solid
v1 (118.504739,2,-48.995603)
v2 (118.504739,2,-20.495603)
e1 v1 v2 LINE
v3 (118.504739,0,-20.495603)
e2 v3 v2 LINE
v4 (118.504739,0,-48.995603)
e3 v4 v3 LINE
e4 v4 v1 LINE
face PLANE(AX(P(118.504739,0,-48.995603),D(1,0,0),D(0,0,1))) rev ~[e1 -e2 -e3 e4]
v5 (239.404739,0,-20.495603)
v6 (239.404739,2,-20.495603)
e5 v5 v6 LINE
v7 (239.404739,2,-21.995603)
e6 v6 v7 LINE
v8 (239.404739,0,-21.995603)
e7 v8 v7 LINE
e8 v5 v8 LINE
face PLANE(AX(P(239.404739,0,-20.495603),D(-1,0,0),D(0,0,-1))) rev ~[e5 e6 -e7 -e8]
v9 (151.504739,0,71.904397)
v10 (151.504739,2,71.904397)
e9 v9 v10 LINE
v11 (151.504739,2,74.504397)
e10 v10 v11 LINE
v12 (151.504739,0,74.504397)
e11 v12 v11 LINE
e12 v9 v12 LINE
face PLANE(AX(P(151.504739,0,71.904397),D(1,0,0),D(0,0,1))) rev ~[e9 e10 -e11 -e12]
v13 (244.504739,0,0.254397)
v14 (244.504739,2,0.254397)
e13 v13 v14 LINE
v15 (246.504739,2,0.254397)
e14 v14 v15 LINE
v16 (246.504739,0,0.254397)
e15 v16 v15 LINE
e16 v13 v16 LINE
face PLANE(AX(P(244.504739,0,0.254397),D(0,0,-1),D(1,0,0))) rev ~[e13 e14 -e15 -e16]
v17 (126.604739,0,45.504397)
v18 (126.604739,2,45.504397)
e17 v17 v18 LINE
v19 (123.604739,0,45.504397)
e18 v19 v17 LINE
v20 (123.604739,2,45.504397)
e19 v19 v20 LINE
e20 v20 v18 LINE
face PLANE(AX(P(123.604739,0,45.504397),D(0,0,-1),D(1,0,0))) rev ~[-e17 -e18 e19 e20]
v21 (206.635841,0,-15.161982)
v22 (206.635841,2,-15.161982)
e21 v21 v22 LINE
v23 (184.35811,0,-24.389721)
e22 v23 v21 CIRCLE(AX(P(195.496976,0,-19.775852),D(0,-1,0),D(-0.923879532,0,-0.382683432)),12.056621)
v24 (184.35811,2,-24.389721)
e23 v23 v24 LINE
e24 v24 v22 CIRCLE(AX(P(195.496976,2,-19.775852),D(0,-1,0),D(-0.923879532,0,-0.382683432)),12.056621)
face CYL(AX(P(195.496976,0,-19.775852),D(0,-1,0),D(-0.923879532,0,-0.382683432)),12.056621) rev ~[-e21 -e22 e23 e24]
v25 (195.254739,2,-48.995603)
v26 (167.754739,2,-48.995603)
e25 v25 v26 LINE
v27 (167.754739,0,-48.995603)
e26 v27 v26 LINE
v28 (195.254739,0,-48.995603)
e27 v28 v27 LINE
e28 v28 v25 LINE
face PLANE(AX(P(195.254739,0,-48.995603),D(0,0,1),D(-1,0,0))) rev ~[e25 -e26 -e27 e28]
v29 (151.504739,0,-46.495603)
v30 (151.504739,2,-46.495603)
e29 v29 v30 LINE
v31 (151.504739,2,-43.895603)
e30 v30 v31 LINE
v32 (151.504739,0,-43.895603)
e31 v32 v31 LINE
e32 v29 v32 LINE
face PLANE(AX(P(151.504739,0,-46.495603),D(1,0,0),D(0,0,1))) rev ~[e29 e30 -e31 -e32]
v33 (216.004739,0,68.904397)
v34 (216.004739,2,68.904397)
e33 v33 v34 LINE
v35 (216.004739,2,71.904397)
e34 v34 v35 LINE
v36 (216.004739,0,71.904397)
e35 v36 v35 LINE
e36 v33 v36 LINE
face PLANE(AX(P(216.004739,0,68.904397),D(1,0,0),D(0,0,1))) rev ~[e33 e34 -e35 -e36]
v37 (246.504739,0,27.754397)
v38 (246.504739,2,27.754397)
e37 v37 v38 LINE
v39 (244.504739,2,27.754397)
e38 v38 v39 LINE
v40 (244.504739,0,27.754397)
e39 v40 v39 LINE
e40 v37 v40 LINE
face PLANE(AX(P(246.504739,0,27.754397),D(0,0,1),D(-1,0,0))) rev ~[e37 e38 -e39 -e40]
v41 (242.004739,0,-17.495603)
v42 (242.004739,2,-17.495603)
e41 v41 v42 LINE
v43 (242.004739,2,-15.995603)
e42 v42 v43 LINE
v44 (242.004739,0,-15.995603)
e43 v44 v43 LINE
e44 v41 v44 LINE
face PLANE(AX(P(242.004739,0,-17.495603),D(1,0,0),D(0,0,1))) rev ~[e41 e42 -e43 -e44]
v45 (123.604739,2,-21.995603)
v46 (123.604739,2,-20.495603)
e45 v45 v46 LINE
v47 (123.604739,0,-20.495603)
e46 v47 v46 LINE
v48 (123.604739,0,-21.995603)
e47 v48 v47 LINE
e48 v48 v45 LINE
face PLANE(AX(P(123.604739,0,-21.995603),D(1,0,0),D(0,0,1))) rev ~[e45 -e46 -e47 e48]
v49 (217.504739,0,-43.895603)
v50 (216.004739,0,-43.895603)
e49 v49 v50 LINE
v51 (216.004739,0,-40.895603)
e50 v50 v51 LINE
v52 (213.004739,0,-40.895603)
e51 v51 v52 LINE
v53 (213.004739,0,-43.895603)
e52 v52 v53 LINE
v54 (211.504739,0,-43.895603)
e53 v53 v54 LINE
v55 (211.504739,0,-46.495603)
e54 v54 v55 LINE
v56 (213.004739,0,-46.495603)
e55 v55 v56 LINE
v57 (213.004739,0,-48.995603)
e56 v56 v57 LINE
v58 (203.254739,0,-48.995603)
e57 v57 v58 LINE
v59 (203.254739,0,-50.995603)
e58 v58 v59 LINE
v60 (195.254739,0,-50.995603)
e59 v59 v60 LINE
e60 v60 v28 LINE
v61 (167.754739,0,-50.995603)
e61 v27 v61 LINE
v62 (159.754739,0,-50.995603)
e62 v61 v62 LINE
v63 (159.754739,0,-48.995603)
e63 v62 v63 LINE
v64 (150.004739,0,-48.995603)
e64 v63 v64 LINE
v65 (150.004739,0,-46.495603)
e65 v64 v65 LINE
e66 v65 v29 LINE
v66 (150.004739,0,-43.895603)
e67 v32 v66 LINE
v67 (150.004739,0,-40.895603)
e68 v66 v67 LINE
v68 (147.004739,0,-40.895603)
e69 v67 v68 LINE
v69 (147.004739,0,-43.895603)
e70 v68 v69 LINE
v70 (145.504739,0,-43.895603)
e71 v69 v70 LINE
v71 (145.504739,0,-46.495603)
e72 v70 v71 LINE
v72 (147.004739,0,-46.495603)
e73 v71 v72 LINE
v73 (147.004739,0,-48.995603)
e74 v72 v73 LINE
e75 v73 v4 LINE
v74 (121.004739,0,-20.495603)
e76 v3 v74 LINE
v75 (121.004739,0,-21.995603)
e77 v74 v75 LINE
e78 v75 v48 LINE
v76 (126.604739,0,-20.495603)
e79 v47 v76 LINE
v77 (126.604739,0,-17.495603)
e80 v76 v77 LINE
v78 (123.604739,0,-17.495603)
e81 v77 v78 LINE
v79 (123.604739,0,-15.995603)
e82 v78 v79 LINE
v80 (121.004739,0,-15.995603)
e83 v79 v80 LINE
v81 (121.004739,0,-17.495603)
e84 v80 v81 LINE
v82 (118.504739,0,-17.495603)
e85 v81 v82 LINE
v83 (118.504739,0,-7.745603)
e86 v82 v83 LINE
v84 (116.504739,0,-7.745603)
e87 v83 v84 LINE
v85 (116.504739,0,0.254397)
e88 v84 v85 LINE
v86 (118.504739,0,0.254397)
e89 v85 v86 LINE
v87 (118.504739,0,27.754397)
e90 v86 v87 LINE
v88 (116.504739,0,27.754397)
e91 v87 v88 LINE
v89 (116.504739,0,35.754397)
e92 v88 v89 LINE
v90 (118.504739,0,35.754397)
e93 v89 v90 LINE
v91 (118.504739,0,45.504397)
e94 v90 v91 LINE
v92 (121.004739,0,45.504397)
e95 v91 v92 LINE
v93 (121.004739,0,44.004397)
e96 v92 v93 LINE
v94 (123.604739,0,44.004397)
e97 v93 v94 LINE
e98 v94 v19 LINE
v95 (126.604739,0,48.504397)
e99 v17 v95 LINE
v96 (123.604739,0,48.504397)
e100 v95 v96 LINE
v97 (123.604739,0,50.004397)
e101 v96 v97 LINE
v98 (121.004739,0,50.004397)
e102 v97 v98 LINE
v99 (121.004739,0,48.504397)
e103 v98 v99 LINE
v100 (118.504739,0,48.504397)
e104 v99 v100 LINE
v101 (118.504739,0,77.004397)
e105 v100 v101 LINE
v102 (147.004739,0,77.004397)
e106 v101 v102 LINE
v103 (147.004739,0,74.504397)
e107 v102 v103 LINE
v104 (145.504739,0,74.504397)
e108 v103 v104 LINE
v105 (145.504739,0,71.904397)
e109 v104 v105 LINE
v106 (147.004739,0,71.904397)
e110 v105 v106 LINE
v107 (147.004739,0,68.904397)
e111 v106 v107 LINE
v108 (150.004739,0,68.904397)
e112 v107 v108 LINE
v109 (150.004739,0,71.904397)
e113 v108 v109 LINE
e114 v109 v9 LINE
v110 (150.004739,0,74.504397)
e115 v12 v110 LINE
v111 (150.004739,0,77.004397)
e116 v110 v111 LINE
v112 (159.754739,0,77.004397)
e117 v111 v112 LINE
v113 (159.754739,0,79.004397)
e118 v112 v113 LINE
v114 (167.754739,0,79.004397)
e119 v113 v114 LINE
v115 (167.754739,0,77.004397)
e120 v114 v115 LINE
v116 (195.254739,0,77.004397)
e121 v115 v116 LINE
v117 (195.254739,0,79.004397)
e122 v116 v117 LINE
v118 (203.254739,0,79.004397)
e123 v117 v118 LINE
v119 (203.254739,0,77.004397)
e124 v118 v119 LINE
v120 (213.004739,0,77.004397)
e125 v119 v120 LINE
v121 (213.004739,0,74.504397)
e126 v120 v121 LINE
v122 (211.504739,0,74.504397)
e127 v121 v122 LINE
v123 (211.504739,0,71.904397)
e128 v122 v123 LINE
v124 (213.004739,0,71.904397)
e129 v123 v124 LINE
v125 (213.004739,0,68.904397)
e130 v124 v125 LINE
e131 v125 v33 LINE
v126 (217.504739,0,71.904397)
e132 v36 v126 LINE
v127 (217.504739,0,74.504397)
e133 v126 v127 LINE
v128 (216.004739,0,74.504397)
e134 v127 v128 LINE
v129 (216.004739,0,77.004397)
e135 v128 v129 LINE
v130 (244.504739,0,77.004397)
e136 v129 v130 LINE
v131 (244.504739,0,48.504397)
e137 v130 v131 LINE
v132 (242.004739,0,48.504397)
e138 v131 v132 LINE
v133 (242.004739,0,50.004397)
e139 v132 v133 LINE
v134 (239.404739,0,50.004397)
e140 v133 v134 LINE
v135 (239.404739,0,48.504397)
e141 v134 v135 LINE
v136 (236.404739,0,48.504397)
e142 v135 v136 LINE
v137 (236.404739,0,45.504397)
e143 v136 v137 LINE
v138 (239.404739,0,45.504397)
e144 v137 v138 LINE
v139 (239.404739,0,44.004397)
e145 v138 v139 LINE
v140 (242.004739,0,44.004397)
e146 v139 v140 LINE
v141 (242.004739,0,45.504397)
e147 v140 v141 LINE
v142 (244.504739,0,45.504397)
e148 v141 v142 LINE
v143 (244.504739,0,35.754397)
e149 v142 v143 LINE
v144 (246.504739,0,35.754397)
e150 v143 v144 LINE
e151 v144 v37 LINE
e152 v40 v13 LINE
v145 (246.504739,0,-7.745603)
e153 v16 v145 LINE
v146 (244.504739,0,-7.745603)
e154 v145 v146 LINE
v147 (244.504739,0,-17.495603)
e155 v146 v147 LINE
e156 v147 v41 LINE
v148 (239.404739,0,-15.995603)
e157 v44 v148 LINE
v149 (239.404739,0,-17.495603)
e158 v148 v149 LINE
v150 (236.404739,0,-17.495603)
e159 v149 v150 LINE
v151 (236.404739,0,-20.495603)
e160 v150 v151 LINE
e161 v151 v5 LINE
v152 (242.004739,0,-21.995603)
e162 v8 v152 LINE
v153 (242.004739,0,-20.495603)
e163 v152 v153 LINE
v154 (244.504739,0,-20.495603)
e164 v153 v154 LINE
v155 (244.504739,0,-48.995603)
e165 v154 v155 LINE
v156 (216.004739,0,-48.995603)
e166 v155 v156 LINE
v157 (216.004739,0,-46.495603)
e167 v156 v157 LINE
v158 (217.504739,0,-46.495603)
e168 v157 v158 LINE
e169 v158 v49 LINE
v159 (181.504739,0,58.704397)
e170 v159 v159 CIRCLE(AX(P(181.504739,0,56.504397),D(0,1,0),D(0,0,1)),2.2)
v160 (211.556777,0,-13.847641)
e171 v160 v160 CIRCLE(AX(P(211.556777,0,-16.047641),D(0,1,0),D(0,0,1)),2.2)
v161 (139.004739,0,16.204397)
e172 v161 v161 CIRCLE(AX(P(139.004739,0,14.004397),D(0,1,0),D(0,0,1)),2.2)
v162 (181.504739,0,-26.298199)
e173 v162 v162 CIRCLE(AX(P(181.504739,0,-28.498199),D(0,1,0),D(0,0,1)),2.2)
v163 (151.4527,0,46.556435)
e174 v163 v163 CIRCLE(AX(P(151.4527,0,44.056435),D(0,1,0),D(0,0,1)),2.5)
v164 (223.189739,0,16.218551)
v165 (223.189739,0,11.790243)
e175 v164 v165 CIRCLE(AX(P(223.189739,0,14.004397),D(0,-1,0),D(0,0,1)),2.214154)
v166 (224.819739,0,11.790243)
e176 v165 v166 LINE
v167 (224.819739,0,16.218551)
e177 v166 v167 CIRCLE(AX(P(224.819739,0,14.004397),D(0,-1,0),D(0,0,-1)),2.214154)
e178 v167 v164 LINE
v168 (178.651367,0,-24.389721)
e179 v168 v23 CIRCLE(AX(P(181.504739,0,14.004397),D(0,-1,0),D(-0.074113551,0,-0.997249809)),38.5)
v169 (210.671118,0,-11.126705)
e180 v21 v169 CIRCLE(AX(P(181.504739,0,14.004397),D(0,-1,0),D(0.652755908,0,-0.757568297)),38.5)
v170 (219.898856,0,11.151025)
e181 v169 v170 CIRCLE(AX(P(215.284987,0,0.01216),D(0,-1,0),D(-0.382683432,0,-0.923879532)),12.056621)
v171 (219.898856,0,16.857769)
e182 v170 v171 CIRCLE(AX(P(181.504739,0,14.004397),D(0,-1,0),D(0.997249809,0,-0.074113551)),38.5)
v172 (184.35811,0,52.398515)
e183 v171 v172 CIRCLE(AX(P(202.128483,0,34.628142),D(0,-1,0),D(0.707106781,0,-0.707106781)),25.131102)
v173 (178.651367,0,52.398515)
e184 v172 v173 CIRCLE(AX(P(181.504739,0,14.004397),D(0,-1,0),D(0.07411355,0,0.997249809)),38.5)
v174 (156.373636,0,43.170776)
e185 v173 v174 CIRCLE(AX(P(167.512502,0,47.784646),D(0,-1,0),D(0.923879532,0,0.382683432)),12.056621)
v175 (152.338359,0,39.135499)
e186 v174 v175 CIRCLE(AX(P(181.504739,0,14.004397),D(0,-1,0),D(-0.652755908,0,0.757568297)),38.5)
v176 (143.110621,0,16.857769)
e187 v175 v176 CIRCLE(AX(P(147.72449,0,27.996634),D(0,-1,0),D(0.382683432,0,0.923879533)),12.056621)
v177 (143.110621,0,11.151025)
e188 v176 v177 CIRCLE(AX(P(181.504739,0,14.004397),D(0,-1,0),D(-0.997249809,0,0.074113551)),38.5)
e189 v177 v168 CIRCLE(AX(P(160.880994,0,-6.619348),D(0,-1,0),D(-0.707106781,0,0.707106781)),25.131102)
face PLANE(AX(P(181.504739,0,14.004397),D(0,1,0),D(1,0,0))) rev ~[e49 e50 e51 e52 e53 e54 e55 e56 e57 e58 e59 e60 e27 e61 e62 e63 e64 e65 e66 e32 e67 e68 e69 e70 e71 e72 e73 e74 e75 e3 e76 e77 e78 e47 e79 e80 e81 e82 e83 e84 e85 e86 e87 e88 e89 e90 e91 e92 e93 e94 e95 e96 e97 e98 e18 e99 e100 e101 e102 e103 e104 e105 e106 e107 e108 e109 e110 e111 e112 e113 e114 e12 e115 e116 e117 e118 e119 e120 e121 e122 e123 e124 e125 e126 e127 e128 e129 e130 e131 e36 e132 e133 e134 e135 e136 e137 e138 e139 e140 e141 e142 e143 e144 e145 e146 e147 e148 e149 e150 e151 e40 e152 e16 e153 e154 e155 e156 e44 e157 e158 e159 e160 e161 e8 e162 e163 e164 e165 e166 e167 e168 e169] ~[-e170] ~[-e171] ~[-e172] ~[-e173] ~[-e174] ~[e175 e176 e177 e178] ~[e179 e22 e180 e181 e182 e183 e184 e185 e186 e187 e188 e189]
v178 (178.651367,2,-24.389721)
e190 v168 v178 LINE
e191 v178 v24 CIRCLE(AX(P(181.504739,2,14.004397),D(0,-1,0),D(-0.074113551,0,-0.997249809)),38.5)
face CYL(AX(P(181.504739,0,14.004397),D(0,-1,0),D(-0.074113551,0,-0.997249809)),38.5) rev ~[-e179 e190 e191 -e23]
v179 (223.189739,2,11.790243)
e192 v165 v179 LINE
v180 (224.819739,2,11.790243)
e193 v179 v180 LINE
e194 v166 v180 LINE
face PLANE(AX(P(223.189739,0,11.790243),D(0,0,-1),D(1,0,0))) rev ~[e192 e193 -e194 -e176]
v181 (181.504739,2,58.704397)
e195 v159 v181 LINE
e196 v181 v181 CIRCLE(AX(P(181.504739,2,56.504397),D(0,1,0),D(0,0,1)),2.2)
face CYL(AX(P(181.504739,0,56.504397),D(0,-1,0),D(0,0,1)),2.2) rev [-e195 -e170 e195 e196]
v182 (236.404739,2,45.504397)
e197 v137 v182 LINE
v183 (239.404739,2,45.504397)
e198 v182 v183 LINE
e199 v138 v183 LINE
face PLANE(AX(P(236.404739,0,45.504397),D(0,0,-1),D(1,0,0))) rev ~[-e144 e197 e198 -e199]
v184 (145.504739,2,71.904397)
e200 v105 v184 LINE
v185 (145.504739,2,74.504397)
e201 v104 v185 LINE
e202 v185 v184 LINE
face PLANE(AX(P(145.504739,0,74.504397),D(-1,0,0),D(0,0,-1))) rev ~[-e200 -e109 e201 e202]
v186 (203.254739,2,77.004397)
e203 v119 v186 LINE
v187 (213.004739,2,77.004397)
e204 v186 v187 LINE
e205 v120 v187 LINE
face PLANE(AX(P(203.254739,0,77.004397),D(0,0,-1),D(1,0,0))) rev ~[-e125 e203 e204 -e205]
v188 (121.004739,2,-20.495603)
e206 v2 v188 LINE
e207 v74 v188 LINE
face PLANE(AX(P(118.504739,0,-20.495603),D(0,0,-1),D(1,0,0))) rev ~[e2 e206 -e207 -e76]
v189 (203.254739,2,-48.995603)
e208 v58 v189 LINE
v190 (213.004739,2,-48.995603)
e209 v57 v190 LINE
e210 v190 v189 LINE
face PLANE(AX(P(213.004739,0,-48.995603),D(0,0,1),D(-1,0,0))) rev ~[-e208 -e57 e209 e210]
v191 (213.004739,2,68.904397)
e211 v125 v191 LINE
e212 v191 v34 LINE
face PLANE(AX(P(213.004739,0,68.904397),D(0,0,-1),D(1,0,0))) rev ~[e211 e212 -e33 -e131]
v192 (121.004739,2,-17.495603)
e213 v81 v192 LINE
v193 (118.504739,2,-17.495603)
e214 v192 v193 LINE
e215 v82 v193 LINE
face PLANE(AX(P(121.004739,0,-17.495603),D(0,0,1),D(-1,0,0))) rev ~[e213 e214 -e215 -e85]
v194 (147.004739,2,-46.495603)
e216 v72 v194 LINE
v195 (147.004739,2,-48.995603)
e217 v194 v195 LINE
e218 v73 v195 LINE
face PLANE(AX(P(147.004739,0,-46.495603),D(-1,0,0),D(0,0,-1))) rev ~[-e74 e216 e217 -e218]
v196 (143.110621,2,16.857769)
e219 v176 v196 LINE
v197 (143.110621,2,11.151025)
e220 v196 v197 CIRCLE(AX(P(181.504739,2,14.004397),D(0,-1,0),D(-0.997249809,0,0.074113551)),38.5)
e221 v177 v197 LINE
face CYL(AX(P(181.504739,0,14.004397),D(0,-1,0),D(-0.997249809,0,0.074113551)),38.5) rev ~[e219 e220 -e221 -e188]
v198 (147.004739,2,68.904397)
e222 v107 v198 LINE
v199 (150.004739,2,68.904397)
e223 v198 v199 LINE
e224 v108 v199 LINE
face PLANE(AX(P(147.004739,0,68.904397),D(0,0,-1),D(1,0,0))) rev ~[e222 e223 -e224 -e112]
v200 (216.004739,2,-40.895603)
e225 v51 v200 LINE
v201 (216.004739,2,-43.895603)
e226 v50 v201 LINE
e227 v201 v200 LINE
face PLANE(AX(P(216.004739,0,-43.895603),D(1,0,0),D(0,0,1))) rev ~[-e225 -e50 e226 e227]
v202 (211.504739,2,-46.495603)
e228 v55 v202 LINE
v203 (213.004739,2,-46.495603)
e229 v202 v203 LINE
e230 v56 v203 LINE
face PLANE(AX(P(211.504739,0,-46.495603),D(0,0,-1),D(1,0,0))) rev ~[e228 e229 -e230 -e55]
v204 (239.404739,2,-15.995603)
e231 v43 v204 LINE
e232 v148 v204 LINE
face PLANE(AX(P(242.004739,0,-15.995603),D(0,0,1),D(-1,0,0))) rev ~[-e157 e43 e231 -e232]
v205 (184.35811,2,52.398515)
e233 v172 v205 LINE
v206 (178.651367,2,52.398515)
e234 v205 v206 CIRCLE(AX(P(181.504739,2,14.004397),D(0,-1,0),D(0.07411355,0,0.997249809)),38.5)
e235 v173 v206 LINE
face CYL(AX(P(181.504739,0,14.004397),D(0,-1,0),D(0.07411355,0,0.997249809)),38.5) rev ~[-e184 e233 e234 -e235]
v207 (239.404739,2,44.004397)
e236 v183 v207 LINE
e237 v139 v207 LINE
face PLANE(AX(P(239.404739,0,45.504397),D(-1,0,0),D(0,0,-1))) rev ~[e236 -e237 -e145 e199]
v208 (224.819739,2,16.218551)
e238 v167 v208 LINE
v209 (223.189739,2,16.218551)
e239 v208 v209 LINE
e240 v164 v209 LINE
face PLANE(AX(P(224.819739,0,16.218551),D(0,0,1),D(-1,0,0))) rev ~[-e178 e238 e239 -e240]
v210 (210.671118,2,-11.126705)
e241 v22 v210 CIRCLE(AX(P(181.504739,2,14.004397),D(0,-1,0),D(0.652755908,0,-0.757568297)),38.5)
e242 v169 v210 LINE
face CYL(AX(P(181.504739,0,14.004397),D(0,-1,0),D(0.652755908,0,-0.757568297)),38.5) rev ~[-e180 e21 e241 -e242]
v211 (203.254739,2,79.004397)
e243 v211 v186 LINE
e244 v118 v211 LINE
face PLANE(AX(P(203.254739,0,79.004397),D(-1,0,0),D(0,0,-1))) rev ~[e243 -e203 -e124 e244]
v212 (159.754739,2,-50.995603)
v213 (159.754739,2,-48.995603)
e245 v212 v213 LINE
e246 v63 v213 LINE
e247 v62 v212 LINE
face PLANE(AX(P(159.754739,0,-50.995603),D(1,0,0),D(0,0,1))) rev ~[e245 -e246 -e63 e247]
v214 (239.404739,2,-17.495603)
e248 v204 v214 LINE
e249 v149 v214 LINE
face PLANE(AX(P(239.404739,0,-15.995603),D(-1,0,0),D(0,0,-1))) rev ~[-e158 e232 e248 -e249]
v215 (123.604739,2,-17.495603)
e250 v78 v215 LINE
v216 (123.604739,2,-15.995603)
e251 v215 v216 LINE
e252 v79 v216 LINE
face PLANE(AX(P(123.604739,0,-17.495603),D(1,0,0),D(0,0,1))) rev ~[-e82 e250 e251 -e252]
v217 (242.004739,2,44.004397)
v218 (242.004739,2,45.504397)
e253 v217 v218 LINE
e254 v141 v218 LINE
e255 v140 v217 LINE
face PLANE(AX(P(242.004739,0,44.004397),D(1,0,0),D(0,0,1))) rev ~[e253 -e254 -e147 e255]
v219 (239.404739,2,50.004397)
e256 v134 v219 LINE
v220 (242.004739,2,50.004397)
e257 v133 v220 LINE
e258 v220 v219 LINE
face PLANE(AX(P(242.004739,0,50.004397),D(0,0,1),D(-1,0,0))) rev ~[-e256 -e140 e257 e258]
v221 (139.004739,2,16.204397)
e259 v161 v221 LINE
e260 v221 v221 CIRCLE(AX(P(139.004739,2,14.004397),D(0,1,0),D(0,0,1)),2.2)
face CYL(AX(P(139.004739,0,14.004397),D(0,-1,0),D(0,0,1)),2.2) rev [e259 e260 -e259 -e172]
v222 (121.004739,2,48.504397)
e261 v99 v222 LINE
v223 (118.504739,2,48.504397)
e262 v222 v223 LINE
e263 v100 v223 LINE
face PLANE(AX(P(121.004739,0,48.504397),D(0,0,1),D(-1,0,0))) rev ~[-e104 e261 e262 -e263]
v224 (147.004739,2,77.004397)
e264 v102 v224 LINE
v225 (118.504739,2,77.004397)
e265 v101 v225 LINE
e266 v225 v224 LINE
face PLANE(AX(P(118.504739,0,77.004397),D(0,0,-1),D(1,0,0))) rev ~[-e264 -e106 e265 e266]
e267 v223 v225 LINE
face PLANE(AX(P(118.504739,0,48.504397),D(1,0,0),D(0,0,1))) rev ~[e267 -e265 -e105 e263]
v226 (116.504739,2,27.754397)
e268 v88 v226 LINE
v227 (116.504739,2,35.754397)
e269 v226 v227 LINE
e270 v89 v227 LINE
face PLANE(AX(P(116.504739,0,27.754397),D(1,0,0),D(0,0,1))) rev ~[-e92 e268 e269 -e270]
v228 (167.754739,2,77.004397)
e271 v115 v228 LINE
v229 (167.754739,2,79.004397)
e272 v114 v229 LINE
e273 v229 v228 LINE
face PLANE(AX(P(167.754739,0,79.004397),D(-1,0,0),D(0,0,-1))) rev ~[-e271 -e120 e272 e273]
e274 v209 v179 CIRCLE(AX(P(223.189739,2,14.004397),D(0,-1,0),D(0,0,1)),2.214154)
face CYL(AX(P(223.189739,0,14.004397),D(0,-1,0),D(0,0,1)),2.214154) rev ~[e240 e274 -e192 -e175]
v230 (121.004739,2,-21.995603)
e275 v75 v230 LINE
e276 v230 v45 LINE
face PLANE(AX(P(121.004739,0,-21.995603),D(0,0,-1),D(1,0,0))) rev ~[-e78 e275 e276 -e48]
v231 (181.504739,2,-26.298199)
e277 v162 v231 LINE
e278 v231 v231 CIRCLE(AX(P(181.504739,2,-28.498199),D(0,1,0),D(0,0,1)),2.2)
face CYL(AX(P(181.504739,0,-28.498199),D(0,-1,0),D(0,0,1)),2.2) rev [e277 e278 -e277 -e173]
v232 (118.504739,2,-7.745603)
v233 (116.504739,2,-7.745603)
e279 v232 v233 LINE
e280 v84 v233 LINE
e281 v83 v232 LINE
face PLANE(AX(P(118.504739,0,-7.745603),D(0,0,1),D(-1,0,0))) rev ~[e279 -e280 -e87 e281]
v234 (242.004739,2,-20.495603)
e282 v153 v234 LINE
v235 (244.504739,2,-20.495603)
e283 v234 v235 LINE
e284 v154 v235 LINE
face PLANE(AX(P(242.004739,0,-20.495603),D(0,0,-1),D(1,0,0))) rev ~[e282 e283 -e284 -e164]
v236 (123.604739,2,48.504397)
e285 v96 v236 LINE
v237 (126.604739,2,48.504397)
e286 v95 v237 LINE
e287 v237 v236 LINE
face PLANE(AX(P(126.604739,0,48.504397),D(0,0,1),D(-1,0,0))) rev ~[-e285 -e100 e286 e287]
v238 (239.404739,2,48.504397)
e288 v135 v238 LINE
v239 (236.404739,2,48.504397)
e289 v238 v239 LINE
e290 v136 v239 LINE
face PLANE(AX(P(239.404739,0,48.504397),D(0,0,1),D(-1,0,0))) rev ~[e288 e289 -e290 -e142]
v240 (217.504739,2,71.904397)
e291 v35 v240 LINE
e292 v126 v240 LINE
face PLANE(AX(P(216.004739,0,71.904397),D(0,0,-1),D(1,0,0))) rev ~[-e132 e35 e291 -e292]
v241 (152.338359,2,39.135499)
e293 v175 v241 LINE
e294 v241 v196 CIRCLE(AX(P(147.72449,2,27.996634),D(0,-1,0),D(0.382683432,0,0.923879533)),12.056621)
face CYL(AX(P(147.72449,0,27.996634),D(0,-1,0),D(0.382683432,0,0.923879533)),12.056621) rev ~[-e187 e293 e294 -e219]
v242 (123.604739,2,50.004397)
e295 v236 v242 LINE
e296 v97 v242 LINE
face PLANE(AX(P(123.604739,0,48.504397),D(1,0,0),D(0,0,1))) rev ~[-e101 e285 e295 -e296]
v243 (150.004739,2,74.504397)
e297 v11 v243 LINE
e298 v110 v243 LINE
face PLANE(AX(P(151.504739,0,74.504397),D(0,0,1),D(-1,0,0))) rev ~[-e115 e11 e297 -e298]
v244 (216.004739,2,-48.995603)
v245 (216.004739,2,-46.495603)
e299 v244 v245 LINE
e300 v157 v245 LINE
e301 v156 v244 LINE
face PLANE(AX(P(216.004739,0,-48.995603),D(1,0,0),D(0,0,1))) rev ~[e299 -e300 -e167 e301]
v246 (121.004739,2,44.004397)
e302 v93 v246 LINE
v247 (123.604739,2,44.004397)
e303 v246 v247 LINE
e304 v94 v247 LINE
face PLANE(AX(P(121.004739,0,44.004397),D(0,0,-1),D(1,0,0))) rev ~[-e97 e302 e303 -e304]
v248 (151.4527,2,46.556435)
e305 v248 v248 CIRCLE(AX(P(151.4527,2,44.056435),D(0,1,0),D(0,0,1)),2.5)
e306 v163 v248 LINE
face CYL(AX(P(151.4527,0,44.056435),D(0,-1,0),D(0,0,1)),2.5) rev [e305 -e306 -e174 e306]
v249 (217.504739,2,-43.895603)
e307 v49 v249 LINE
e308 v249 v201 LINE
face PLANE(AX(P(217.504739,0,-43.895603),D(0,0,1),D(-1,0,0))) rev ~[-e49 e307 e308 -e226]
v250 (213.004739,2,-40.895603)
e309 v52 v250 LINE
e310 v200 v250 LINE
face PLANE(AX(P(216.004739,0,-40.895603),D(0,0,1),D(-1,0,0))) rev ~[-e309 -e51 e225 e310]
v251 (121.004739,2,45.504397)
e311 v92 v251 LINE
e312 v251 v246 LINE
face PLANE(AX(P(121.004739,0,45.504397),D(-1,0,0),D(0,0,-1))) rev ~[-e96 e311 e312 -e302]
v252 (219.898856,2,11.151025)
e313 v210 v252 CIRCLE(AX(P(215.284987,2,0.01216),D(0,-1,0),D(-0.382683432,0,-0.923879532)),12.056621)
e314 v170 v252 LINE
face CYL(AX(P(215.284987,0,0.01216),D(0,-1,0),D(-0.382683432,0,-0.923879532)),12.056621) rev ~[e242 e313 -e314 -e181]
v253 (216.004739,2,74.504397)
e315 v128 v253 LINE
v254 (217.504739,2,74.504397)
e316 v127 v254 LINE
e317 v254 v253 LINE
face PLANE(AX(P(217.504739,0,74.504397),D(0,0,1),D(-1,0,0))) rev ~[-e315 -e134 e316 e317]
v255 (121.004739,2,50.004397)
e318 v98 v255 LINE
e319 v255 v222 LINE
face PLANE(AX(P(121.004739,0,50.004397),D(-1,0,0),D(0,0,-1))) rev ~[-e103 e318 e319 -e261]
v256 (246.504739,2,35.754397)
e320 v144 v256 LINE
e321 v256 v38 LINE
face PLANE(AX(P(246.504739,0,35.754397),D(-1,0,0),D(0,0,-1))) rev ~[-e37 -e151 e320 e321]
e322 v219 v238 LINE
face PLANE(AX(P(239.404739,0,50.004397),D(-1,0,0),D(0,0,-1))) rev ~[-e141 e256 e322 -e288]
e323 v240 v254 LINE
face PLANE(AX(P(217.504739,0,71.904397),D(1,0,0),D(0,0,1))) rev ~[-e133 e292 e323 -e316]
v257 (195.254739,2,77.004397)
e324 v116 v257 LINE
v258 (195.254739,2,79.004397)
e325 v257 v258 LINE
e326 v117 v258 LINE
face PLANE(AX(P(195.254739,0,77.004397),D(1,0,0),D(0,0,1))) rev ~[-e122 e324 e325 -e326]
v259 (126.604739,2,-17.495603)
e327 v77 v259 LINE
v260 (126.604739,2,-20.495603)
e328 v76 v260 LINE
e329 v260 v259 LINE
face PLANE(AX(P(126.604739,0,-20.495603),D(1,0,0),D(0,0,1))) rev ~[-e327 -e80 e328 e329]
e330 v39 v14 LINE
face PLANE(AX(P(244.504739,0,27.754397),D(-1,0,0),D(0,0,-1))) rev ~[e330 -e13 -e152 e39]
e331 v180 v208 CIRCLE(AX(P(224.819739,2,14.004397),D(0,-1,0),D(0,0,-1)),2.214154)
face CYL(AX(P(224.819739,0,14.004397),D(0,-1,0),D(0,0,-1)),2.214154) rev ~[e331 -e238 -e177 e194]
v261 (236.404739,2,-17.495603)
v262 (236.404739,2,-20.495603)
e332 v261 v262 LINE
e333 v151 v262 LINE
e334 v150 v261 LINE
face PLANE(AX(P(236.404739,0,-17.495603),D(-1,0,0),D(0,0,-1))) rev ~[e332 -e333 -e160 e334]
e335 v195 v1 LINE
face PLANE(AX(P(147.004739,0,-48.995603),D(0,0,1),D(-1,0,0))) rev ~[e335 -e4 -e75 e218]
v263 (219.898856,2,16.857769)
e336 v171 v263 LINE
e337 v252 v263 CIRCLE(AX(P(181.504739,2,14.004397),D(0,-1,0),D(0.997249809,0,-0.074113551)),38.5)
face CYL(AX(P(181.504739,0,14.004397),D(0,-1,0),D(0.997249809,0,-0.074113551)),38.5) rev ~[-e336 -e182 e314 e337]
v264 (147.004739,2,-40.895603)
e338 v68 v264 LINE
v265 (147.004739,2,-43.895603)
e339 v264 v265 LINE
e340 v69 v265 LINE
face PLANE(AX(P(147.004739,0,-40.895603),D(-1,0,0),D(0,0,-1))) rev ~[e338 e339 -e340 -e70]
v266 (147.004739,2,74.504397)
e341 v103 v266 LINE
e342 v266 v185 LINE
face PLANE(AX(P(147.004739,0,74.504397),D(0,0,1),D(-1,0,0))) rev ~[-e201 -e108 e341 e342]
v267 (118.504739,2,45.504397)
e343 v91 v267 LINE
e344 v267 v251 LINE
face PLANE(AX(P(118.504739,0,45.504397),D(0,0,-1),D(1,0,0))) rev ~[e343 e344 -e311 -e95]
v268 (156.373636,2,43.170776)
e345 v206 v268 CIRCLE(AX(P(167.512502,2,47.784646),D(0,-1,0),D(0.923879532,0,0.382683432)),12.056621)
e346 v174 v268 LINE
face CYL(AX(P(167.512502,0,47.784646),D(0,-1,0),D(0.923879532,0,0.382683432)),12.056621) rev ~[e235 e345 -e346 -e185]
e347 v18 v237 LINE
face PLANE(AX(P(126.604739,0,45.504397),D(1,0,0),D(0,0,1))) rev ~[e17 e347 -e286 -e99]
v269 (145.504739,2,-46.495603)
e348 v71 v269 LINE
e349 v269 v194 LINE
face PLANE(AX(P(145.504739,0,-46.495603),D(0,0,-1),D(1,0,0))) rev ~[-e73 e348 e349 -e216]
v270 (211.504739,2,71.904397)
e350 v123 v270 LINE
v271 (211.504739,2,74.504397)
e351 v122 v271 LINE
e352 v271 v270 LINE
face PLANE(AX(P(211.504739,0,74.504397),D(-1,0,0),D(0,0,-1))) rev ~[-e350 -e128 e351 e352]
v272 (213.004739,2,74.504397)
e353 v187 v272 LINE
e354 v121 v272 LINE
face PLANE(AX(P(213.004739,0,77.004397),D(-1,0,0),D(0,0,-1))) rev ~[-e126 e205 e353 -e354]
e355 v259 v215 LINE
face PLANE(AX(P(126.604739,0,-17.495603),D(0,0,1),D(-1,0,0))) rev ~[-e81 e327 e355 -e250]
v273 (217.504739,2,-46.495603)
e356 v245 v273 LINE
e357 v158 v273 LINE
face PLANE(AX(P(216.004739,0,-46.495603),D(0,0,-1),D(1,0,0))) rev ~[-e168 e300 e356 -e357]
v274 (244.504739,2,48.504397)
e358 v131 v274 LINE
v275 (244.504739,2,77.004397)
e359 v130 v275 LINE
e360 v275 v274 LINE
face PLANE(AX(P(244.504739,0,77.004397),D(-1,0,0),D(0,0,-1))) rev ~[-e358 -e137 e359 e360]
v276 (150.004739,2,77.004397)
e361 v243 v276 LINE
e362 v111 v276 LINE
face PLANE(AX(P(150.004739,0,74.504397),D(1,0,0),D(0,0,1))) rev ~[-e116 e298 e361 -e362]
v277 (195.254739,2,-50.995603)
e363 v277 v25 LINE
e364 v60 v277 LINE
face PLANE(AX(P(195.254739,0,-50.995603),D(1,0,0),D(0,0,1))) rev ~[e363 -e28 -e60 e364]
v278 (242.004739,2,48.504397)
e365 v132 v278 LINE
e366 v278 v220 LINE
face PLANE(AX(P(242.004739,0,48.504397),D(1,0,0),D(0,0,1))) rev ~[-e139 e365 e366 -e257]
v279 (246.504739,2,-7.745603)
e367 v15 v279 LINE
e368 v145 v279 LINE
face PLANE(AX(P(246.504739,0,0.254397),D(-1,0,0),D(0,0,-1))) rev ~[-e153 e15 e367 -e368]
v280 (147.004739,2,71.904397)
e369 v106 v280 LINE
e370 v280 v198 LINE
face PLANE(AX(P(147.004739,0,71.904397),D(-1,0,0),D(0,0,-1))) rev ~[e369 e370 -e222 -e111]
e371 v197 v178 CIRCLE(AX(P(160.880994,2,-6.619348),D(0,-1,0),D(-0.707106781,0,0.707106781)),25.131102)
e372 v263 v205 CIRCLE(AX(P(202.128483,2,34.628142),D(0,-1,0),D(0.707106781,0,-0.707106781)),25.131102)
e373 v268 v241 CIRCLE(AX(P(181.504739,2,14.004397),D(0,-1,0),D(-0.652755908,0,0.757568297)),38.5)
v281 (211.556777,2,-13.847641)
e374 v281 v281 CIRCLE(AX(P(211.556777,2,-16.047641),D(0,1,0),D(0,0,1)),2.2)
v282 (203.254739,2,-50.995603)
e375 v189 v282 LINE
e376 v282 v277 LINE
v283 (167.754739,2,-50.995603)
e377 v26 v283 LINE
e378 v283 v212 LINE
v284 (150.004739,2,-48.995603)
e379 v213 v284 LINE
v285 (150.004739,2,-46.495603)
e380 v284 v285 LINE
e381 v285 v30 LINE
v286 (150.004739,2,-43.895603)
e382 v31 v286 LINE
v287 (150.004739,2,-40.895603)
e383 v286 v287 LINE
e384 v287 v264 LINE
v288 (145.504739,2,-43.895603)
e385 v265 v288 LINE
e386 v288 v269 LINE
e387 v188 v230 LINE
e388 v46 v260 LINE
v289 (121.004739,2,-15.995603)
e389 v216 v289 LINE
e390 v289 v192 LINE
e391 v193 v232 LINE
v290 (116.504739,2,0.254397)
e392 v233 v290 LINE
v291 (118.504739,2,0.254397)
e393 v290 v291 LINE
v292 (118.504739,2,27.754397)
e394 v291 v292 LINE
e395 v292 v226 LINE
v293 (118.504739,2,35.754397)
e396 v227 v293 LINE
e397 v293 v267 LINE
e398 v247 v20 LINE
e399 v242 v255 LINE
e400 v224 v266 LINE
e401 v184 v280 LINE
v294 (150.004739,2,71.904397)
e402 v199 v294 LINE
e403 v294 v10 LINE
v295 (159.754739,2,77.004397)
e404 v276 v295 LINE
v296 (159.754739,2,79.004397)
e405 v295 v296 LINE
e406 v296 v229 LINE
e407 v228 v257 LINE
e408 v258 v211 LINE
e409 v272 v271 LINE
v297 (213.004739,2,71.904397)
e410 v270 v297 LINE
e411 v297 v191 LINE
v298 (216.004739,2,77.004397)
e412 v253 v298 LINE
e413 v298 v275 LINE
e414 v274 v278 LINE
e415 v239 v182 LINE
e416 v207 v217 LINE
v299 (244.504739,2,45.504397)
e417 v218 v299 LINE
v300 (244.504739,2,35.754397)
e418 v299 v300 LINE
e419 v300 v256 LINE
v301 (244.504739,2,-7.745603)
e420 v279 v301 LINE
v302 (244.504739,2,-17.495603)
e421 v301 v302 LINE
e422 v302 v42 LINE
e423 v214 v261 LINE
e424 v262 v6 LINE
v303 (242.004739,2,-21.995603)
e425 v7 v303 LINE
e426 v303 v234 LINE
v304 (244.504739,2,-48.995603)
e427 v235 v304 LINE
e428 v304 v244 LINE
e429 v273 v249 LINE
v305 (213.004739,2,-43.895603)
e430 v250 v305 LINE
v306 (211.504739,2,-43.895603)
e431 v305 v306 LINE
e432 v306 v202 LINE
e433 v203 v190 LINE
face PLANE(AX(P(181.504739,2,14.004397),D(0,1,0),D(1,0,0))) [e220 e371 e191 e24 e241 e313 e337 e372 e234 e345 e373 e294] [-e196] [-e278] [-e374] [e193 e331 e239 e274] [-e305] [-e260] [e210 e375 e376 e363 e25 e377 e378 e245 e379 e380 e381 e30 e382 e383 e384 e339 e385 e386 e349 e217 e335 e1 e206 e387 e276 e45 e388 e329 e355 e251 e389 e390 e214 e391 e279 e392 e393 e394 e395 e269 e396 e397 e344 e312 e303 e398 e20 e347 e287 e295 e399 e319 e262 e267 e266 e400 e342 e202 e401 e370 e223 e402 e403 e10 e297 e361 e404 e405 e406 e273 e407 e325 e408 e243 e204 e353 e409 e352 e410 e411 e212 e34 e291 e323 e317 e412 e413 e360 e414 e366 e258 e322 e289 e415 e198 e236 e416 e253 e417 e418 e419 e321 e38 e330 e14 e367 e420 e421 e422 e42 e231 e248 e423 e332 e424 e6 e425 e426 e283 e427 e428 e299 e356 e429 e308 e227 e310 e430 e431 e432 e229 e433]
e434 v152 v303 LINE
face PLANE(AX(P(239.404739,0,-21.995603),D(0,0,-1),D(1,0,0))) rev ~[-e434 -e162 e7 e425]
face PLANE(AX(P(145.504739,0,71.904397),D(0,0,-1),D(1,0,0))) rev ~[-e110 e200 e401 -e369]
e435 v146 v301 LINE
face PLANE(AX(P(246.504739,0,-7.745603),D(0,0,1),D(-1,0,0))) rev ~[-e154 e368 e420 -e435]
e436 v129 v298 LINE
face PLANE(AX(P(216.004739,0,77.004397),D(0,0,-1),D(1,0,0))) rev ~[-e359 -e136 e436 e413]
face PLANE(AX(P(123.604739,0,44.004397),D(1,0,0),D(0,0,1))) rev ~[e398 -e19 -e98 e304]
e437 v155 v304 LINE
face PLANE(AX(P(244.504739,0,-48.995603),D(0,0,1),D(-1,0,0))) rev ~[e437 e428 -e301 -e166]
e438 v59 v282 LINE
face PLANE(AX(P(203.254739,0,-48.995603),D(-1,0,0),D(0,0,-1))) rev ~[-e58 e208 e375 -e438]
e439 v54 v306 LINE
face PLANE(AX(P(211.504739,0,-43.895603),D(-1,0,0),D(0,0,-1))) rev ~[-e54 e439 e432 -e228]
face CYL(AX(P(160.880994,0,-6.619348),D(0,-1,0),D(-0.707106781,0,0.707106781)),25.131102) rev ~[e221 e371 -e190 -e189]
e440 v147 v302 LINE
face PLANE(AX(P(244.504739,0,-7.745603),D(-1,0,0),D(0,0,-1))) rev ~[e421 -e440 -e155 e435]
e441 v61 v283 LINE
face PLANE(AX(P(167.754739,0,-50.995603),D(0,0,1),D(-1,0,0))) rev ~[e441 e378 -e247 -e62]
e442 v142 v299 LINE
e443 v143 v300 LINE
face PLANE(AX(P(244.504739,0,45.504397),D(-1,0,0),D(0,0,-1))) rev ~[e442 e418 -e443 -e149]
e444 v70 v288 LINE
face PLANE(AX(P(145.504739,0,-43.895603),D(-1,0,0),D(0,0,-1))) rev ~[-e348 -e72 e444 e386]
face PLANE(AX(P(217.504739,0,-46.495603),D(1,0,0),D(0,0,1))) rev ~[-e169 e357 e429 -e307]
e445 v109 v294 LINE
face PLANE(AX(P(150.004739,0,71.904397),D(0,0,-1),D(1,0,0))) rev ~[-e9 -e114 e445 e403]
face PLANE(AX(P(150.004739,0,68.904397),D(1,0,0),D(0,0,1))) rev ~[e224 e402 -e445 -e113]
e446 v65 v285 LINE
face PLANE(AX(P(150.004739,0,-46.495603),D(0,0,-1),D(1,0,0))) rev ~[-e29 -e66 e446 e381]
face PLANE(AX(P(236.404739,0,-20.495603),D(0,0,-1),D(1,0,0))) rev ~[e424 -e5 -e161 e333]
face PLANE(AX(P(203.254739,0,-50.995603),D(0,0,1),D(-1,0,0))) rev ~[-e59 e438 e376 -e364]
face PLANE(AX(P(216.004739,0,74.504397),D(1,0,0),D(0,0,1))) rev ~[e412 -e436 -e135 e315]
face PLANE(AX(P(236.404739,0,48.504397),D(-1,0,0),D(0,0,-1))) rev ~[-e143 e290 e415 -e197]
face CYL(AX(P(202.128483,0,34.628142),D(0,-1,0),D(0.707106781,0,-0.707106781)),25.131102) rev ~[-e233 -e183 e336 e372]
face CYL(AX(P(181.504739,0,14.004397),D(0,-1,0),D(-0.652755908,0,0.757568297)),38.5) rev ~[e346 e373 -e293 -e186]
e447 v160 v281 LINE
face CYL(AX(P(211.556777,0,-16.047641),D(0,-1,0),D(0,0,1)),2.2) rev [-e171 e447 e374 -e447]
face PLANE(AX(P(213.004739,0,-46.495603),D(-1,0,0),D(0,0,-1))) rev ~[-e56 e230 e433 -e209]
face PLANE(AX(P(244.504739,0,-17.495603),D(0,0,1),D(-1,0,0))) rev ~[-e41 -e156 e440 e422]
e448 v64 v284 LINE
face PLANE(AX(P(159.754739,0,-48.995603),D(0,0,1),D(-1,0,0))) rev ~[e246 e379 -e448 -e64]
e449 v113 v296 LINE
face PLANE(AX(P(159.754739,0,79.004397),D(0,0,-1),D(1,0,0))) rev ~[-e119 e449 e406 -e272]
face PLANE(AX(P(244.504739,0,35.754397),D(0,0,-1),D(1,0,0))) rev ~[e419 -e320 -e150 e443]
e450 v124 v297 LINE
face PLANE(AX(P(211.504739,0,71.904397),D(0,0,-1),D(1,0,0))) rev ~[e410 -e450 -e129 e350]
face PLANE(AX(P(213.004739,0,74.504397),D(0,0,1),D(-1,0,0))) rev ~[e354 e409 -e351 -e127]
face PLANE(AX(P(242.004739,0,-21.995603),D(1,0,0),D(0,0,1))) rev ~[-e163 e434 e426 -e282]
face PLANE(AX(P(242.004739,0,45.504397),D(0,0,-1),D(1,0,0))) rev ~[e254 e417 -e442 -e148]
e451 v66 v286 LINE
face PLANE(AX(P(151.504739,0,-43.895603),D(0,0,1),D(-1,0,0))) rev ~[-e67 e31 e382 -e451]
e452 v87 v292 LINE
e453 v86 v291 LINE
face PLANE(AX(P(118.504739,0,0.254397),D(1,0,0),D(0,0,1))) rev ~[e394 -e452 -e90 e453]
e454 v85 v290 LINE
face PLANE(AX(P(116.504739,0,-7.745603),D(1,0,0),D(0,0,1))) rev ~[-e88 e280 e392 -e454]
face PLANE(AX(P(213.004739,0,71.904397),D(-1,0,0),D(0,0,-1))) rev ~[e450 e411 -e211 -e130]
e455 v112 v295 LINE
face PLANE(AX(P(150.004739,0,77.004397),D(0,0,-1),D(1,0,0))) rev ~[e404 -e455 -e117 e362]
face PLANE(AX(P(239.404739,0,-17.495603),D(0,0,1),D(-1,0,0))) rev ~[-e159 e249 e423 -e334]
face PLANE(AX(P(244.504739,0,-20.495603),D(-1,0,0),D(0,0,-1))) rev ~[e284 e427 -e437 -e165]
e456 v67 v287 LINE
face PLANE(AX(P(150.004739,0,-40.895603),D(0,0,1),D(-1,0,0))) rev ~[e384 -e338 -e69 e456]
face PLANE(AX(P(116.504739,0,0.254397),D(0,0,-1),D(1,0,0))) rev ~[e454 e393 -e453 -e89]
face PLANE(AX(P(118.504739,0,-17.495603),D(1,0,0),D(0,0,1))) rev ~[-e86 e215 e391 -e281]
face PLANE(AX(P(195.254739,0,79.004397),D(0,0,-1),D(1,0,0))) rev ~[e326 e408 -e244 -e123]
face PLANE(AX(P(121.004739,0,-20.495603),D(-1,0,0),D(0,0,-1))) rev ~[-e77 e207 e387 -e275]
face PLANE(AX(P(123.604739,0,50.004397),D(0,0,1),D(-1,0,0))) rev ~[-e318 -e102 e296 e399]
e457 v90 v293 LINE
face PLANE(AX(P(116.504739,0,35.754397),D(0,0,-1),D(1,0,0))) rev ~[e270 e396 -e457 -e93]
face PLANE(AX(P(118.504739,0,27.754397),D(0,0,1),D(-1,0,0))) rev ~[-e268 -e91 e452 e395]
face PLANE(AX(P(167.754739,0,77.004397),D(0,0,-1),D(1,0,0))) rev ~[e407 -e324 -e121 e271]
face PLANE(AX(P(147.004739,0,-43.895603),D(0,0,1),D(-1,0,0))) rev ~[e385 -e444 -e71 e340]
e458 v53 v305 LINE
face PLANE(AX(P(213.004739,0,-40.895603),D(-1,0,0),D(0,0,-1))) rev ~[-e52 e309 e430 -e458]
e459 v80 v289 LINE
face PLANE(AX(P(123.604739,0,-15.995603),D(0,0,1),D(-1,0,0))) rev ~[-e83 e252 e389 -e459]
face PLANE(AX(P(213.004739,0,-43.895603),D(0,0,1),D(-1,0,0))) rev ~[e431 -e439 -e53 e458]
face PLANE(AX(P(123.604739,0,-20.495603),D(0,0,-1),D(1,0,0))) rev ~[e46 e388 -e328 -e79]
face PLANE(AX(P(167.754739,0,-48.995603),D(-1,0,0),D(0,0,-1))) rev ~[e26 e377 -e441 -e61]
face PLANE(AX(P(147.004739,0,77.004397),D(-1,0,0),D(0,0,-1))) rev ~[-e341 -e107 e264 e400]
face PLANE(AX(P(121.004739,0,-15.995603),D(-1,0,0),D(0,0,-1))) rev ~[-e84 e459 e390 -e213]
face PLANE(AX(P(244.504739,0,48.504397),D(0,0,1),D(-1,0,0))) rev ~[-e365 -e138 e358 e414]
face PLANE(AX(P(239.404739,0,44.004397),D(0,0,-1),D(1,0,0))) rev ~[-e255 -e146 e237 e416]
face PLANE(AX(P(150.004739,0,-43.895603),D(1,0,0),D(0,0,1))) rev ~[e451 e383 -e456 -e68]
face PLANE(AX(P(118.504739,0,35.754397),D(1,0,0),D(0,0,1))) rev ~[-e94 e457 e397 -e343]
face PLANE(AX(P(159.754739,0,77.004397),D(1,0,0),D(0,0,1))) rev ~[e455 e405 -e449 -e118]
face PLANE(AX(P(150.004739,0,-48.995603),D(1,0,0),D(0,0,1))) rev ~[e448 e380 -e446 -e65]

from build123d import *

# Parameters (mm, degrees)
SKETCH_1_R      = 2.2
SKETCH_1_R_2    = 2.5
EXTRUDE_1_DEPTH = 2


with BuildPart() as part:
    # 草图1 → 凸台-拉伸1 (new body)
    with BuildSketch(Plane(origin=(0, 0, 0), x_dir=(1, 0, 0), z_dir=(0, 1, 0))):
        Polygon((159.754738648, 48.995603023), (150.004738648, 48.995603023), (150.004738648, 46.495603023), (151.504738648, 46.495603023), (151.504738648, 43.895603023), (150.004738648, 43.895603023), (150.004738648, 40.895603023), (147.004738648, 40.895603023), (147.004738648, 43.895603023), (145.504738648, 43.895603023), (145.504738648, 46.495603023), (147.004738648, 46.495603023), (147.004738648, 48.995603023), (138.604738648, 48.995603023), (133.504738648, 48.995603023), (118.504738648, 48.995603023), (118.504738648, 33.995603023), (118.504738648, 21.495603023), (118.504738648, 20.495603023), (121.004738648, 20.495603023), (121.004738648, 21.995603023), (123.604738648, 21.995603023), (123.604738648, 20.495603023), (126.604738648, 20.495603023), (126.604738648, 17.495603023), (123.604738648, 17.495603023), (123.604738648, 15.995603023), (121.004738648, 15.995603023), (121.004738648, 17.495603023), (118.504738648, 17.495603023), (118.504738648, 7.745603023), (116.504738648, 7.745603023), (116.504738648, -0.254396977), (118.504738648, -0.254396977), (118.504738648, -27.754396977), (116.504738648, -27.754396977), (116.504738648, -35.754396977), (118.504738648, -35.754396977), (118.504738648, -45.504396977), (121.004738648, -45.504396977), (121.004738648, -44.004396977), (123.604738648, -44.004396977), (123.604738648, -45.504396977), (126.604738648, -45.504396977), (126.604738648, -48.504396977), (123.604738648, -48.504396977), (123.604738648, -50.004396977), (121.004738648, -50.004396977), (121.004738648, -48.504396977), (118.504738648, -48.504396977), (118.504738648, -56.904396977), (118.504738648, -62.004396977), (118.504738648, -77.004396977), (133.504738648, -77.004396977), (146.004738648, -77.004396977), (147.004738648, -77.004396977), (147.004738648, -74.504396977), (145.504738648, -74.504396977), (145.504738648, -71.904396977), (147.004738648, -71.904396977), (147.004738648, -68.904396977), (150.004738648, -68.904396977), (150.004738648, -71.904396977), (151.504738648, -71.904396977), (151.504738648, -74.504396977), (150.004738648, -74.504396977), (150.004738648, -77.004396977), (159.754738648, -77.004396977), (159.754738648, -79.004396977), (167.754738648, -79.004396977), (167.754738648, -77.004396977), (195.254738648, -77.004396977), (195.254738648, -79.004396977), (203.254738648, -79.004396977), (203.254738648, -77.004396977), (213.004738648, -77.004396977), (213.004738648, -74.504396977), (211.504738648, -74.504396977), (211.504738648, -71.904396977), (213.004738648, -71.904396977), (213.004738648, -68.904396977), (216.004738648, -68.904396977), (216.004738648, -71.904396977), (217.504738648, -71.904396977), (217.504738648, -74.504396977), (216.004738648, -74.504396977), (216.004738648, -77.004396977), (224.404738648, -77.004396977), (229.504738648, -77.004396977), (244.504738648, -77.004396977), (244.504738648, -62.004396977), (244.504738648, -49.504396977), (244.504738648, -48.504396977), (242.004738648, -48.504396977), (242.004738648, -50.004396977), (239.404738648, -50.004396977), (239.404738648, -48.504396977), (236.404738648, -48.504396977), (236.404738648, -45.504396977), (239.404738648, -45.504396977), (239.404738648, -44.004396977), (242.004738648, -44.004396977), (242.004738648, -45.504396977), (244.504738648, -45.504396977), (244.504738648, -35.754396977), (246.504738648, -35.754396977), (246.504738648, -27.754396977), (244.504738648, -27.754396977), (244.504738648, -0.254396977), (246.504738648, -0.254396977), (246.504738648, 7.745603023), (244.504738648, 7.745603023), (244.504738648, 17.495603023), (242.004738648, 17.495603023), (242.004738648, 15.995603023), (239.404738648, 15.995603023), (239.404738648, 17.495603023), (236.404738648, 17.495603023), (236.404738648, 20.495603023), (239.404738648, 20.495603023), (239.404738648, 21.995603023), (242.004738648, 21.995603023), (242.004738648, 20.495603023), (244.504738648, 20.495603023), (244.504738648, 28.895603023), (244.504738648, 33.995603023), (244.504738648, 48.995603023), (229.504738648, 48.995603023), (217.004738648, 48.995603023), (216.004738648, 48.995603023), (216.004738648, 46.495603023), (217.504738648, 46.495603023), (217.504738648, 43.895603023), (216.004738648, 43.895603023), (216.004738648, 40.895603023), (213.004738648, 40.895603023), (213.004738648, 43.895603023), (211.504738648, 43.895603023), (211.504738648, 46.495603023), (213.004738648, 46.495603023), (213.004738648, 48.995603023), (203.254738648, 48.995603023), (203.254738648, 50.995603023), (195.254738648, 50.995603023), (195.254738648, 48.995603023), (167.754738648, 48.995603023), (167.754738648, 50.995603023), (159.754738648, 50.995603023), align=None)
        with Locations(Location((181.504738648, -56.504396977, 0), (0, 0, 270))):
            Circle(SKETCH_1_R, mode=Mode.SUBTRACT)
        with Locations(Location((139.004738648, -14.004396977, 0), (0, 0, 270))):
            Circle(SKETCH_1_R, mode=Mode.SUBTRACT)
        with Locations(Location((211.556776849, 16.047641223, 0), (0, 0, 270))):
            Circle(SKETCH_1_R, mode=Mode.SUBTRACT)
        with Locations(Location((181.504738648, 28.49819903, 0), (0, 0, 270))):
            Circle(SKETCH_1_R, mode=Mode.SUBTRACT)
        with Locations(Location((151.452700448, -44.056435178, 0), (0, 0, 270))):
            Circle(SKETCH_1_R_2, mode=Mode.SUBTRACT)
        with BuildLine():
            Line((223.189738648, -11.79024286), (224.819738648, -11.79024286))
            ThreePointArc((224.819738648, -11.79024286), (227.033892766, -14.004396977), (224.819738648, -16.218551095))
            Line((224.819738648, -16.218551095), (223.189738648, -16.218551095))
            ThreePointArc((223.189738648, -16.218551095), (220.975584531, -14.004396977), (223.189738648, -11.79024286))
        make_face(mode=Mode.SUBTRACT)
        with BuildLine():
            ThreePointArc((156.373636186, -43.170776407), (154.281127573, -41.228008053), (152.338359218, -39.135499439))
            ThreePointArc((152.338359218, -39.135499439), (136.585624733, -32.610503171), (143.110621001, -16.857768685))
            ThreePointArc((143.110621001, -16.857768685), (143.004738648, -14.004396977), (143.110621001, -11.15102527))
            ThreePointArc((143.110621001, -11.15102527), (143.110621001, 24.38972067), (178.65136694, 24.38972067))
            ThreePointArc((178.65136694, 24.38972067), (181.504738648, 24.495603023), (184.358110356, 24.38972067))
            ThreePointArc((184.358110356, 24.38972067), (200.110844842, 30.914716938), (206.63584111, 15.161982452))
            ThreePointArc((206.63584111, 15.161982452), (208.728349724, 13.219214098), (210.671118078, 11.126705484))
            ThreePointArc((210.671118078, 11.126705484), (226.423852564, 4.601709216), (219.898856295, -11.15102527))
            ThreePointArc((219.898856295, -11.15102527), (220.004738648, -14.004396977), (219.898856295, -16.857768685))
            ThreePointArc((219.898856295, -16.857768685), (219.898856295, -52.398514625), (184.358110356, -52.398514625))
            ThreePointArc((184.358110356, -52.398514625), (181.504738648, -52.504396977), (178.65136694, -52.398514625))
            ThreePointArc((178.65136694, -52.398514625), (162.898632455, -58.923510893), (156.373636186, -43.170776407))
        make_face(mode=Mode.SUBTRACT)
    extrude(amount=EXTRUDE_1_DEPTH)


solid = part.part
